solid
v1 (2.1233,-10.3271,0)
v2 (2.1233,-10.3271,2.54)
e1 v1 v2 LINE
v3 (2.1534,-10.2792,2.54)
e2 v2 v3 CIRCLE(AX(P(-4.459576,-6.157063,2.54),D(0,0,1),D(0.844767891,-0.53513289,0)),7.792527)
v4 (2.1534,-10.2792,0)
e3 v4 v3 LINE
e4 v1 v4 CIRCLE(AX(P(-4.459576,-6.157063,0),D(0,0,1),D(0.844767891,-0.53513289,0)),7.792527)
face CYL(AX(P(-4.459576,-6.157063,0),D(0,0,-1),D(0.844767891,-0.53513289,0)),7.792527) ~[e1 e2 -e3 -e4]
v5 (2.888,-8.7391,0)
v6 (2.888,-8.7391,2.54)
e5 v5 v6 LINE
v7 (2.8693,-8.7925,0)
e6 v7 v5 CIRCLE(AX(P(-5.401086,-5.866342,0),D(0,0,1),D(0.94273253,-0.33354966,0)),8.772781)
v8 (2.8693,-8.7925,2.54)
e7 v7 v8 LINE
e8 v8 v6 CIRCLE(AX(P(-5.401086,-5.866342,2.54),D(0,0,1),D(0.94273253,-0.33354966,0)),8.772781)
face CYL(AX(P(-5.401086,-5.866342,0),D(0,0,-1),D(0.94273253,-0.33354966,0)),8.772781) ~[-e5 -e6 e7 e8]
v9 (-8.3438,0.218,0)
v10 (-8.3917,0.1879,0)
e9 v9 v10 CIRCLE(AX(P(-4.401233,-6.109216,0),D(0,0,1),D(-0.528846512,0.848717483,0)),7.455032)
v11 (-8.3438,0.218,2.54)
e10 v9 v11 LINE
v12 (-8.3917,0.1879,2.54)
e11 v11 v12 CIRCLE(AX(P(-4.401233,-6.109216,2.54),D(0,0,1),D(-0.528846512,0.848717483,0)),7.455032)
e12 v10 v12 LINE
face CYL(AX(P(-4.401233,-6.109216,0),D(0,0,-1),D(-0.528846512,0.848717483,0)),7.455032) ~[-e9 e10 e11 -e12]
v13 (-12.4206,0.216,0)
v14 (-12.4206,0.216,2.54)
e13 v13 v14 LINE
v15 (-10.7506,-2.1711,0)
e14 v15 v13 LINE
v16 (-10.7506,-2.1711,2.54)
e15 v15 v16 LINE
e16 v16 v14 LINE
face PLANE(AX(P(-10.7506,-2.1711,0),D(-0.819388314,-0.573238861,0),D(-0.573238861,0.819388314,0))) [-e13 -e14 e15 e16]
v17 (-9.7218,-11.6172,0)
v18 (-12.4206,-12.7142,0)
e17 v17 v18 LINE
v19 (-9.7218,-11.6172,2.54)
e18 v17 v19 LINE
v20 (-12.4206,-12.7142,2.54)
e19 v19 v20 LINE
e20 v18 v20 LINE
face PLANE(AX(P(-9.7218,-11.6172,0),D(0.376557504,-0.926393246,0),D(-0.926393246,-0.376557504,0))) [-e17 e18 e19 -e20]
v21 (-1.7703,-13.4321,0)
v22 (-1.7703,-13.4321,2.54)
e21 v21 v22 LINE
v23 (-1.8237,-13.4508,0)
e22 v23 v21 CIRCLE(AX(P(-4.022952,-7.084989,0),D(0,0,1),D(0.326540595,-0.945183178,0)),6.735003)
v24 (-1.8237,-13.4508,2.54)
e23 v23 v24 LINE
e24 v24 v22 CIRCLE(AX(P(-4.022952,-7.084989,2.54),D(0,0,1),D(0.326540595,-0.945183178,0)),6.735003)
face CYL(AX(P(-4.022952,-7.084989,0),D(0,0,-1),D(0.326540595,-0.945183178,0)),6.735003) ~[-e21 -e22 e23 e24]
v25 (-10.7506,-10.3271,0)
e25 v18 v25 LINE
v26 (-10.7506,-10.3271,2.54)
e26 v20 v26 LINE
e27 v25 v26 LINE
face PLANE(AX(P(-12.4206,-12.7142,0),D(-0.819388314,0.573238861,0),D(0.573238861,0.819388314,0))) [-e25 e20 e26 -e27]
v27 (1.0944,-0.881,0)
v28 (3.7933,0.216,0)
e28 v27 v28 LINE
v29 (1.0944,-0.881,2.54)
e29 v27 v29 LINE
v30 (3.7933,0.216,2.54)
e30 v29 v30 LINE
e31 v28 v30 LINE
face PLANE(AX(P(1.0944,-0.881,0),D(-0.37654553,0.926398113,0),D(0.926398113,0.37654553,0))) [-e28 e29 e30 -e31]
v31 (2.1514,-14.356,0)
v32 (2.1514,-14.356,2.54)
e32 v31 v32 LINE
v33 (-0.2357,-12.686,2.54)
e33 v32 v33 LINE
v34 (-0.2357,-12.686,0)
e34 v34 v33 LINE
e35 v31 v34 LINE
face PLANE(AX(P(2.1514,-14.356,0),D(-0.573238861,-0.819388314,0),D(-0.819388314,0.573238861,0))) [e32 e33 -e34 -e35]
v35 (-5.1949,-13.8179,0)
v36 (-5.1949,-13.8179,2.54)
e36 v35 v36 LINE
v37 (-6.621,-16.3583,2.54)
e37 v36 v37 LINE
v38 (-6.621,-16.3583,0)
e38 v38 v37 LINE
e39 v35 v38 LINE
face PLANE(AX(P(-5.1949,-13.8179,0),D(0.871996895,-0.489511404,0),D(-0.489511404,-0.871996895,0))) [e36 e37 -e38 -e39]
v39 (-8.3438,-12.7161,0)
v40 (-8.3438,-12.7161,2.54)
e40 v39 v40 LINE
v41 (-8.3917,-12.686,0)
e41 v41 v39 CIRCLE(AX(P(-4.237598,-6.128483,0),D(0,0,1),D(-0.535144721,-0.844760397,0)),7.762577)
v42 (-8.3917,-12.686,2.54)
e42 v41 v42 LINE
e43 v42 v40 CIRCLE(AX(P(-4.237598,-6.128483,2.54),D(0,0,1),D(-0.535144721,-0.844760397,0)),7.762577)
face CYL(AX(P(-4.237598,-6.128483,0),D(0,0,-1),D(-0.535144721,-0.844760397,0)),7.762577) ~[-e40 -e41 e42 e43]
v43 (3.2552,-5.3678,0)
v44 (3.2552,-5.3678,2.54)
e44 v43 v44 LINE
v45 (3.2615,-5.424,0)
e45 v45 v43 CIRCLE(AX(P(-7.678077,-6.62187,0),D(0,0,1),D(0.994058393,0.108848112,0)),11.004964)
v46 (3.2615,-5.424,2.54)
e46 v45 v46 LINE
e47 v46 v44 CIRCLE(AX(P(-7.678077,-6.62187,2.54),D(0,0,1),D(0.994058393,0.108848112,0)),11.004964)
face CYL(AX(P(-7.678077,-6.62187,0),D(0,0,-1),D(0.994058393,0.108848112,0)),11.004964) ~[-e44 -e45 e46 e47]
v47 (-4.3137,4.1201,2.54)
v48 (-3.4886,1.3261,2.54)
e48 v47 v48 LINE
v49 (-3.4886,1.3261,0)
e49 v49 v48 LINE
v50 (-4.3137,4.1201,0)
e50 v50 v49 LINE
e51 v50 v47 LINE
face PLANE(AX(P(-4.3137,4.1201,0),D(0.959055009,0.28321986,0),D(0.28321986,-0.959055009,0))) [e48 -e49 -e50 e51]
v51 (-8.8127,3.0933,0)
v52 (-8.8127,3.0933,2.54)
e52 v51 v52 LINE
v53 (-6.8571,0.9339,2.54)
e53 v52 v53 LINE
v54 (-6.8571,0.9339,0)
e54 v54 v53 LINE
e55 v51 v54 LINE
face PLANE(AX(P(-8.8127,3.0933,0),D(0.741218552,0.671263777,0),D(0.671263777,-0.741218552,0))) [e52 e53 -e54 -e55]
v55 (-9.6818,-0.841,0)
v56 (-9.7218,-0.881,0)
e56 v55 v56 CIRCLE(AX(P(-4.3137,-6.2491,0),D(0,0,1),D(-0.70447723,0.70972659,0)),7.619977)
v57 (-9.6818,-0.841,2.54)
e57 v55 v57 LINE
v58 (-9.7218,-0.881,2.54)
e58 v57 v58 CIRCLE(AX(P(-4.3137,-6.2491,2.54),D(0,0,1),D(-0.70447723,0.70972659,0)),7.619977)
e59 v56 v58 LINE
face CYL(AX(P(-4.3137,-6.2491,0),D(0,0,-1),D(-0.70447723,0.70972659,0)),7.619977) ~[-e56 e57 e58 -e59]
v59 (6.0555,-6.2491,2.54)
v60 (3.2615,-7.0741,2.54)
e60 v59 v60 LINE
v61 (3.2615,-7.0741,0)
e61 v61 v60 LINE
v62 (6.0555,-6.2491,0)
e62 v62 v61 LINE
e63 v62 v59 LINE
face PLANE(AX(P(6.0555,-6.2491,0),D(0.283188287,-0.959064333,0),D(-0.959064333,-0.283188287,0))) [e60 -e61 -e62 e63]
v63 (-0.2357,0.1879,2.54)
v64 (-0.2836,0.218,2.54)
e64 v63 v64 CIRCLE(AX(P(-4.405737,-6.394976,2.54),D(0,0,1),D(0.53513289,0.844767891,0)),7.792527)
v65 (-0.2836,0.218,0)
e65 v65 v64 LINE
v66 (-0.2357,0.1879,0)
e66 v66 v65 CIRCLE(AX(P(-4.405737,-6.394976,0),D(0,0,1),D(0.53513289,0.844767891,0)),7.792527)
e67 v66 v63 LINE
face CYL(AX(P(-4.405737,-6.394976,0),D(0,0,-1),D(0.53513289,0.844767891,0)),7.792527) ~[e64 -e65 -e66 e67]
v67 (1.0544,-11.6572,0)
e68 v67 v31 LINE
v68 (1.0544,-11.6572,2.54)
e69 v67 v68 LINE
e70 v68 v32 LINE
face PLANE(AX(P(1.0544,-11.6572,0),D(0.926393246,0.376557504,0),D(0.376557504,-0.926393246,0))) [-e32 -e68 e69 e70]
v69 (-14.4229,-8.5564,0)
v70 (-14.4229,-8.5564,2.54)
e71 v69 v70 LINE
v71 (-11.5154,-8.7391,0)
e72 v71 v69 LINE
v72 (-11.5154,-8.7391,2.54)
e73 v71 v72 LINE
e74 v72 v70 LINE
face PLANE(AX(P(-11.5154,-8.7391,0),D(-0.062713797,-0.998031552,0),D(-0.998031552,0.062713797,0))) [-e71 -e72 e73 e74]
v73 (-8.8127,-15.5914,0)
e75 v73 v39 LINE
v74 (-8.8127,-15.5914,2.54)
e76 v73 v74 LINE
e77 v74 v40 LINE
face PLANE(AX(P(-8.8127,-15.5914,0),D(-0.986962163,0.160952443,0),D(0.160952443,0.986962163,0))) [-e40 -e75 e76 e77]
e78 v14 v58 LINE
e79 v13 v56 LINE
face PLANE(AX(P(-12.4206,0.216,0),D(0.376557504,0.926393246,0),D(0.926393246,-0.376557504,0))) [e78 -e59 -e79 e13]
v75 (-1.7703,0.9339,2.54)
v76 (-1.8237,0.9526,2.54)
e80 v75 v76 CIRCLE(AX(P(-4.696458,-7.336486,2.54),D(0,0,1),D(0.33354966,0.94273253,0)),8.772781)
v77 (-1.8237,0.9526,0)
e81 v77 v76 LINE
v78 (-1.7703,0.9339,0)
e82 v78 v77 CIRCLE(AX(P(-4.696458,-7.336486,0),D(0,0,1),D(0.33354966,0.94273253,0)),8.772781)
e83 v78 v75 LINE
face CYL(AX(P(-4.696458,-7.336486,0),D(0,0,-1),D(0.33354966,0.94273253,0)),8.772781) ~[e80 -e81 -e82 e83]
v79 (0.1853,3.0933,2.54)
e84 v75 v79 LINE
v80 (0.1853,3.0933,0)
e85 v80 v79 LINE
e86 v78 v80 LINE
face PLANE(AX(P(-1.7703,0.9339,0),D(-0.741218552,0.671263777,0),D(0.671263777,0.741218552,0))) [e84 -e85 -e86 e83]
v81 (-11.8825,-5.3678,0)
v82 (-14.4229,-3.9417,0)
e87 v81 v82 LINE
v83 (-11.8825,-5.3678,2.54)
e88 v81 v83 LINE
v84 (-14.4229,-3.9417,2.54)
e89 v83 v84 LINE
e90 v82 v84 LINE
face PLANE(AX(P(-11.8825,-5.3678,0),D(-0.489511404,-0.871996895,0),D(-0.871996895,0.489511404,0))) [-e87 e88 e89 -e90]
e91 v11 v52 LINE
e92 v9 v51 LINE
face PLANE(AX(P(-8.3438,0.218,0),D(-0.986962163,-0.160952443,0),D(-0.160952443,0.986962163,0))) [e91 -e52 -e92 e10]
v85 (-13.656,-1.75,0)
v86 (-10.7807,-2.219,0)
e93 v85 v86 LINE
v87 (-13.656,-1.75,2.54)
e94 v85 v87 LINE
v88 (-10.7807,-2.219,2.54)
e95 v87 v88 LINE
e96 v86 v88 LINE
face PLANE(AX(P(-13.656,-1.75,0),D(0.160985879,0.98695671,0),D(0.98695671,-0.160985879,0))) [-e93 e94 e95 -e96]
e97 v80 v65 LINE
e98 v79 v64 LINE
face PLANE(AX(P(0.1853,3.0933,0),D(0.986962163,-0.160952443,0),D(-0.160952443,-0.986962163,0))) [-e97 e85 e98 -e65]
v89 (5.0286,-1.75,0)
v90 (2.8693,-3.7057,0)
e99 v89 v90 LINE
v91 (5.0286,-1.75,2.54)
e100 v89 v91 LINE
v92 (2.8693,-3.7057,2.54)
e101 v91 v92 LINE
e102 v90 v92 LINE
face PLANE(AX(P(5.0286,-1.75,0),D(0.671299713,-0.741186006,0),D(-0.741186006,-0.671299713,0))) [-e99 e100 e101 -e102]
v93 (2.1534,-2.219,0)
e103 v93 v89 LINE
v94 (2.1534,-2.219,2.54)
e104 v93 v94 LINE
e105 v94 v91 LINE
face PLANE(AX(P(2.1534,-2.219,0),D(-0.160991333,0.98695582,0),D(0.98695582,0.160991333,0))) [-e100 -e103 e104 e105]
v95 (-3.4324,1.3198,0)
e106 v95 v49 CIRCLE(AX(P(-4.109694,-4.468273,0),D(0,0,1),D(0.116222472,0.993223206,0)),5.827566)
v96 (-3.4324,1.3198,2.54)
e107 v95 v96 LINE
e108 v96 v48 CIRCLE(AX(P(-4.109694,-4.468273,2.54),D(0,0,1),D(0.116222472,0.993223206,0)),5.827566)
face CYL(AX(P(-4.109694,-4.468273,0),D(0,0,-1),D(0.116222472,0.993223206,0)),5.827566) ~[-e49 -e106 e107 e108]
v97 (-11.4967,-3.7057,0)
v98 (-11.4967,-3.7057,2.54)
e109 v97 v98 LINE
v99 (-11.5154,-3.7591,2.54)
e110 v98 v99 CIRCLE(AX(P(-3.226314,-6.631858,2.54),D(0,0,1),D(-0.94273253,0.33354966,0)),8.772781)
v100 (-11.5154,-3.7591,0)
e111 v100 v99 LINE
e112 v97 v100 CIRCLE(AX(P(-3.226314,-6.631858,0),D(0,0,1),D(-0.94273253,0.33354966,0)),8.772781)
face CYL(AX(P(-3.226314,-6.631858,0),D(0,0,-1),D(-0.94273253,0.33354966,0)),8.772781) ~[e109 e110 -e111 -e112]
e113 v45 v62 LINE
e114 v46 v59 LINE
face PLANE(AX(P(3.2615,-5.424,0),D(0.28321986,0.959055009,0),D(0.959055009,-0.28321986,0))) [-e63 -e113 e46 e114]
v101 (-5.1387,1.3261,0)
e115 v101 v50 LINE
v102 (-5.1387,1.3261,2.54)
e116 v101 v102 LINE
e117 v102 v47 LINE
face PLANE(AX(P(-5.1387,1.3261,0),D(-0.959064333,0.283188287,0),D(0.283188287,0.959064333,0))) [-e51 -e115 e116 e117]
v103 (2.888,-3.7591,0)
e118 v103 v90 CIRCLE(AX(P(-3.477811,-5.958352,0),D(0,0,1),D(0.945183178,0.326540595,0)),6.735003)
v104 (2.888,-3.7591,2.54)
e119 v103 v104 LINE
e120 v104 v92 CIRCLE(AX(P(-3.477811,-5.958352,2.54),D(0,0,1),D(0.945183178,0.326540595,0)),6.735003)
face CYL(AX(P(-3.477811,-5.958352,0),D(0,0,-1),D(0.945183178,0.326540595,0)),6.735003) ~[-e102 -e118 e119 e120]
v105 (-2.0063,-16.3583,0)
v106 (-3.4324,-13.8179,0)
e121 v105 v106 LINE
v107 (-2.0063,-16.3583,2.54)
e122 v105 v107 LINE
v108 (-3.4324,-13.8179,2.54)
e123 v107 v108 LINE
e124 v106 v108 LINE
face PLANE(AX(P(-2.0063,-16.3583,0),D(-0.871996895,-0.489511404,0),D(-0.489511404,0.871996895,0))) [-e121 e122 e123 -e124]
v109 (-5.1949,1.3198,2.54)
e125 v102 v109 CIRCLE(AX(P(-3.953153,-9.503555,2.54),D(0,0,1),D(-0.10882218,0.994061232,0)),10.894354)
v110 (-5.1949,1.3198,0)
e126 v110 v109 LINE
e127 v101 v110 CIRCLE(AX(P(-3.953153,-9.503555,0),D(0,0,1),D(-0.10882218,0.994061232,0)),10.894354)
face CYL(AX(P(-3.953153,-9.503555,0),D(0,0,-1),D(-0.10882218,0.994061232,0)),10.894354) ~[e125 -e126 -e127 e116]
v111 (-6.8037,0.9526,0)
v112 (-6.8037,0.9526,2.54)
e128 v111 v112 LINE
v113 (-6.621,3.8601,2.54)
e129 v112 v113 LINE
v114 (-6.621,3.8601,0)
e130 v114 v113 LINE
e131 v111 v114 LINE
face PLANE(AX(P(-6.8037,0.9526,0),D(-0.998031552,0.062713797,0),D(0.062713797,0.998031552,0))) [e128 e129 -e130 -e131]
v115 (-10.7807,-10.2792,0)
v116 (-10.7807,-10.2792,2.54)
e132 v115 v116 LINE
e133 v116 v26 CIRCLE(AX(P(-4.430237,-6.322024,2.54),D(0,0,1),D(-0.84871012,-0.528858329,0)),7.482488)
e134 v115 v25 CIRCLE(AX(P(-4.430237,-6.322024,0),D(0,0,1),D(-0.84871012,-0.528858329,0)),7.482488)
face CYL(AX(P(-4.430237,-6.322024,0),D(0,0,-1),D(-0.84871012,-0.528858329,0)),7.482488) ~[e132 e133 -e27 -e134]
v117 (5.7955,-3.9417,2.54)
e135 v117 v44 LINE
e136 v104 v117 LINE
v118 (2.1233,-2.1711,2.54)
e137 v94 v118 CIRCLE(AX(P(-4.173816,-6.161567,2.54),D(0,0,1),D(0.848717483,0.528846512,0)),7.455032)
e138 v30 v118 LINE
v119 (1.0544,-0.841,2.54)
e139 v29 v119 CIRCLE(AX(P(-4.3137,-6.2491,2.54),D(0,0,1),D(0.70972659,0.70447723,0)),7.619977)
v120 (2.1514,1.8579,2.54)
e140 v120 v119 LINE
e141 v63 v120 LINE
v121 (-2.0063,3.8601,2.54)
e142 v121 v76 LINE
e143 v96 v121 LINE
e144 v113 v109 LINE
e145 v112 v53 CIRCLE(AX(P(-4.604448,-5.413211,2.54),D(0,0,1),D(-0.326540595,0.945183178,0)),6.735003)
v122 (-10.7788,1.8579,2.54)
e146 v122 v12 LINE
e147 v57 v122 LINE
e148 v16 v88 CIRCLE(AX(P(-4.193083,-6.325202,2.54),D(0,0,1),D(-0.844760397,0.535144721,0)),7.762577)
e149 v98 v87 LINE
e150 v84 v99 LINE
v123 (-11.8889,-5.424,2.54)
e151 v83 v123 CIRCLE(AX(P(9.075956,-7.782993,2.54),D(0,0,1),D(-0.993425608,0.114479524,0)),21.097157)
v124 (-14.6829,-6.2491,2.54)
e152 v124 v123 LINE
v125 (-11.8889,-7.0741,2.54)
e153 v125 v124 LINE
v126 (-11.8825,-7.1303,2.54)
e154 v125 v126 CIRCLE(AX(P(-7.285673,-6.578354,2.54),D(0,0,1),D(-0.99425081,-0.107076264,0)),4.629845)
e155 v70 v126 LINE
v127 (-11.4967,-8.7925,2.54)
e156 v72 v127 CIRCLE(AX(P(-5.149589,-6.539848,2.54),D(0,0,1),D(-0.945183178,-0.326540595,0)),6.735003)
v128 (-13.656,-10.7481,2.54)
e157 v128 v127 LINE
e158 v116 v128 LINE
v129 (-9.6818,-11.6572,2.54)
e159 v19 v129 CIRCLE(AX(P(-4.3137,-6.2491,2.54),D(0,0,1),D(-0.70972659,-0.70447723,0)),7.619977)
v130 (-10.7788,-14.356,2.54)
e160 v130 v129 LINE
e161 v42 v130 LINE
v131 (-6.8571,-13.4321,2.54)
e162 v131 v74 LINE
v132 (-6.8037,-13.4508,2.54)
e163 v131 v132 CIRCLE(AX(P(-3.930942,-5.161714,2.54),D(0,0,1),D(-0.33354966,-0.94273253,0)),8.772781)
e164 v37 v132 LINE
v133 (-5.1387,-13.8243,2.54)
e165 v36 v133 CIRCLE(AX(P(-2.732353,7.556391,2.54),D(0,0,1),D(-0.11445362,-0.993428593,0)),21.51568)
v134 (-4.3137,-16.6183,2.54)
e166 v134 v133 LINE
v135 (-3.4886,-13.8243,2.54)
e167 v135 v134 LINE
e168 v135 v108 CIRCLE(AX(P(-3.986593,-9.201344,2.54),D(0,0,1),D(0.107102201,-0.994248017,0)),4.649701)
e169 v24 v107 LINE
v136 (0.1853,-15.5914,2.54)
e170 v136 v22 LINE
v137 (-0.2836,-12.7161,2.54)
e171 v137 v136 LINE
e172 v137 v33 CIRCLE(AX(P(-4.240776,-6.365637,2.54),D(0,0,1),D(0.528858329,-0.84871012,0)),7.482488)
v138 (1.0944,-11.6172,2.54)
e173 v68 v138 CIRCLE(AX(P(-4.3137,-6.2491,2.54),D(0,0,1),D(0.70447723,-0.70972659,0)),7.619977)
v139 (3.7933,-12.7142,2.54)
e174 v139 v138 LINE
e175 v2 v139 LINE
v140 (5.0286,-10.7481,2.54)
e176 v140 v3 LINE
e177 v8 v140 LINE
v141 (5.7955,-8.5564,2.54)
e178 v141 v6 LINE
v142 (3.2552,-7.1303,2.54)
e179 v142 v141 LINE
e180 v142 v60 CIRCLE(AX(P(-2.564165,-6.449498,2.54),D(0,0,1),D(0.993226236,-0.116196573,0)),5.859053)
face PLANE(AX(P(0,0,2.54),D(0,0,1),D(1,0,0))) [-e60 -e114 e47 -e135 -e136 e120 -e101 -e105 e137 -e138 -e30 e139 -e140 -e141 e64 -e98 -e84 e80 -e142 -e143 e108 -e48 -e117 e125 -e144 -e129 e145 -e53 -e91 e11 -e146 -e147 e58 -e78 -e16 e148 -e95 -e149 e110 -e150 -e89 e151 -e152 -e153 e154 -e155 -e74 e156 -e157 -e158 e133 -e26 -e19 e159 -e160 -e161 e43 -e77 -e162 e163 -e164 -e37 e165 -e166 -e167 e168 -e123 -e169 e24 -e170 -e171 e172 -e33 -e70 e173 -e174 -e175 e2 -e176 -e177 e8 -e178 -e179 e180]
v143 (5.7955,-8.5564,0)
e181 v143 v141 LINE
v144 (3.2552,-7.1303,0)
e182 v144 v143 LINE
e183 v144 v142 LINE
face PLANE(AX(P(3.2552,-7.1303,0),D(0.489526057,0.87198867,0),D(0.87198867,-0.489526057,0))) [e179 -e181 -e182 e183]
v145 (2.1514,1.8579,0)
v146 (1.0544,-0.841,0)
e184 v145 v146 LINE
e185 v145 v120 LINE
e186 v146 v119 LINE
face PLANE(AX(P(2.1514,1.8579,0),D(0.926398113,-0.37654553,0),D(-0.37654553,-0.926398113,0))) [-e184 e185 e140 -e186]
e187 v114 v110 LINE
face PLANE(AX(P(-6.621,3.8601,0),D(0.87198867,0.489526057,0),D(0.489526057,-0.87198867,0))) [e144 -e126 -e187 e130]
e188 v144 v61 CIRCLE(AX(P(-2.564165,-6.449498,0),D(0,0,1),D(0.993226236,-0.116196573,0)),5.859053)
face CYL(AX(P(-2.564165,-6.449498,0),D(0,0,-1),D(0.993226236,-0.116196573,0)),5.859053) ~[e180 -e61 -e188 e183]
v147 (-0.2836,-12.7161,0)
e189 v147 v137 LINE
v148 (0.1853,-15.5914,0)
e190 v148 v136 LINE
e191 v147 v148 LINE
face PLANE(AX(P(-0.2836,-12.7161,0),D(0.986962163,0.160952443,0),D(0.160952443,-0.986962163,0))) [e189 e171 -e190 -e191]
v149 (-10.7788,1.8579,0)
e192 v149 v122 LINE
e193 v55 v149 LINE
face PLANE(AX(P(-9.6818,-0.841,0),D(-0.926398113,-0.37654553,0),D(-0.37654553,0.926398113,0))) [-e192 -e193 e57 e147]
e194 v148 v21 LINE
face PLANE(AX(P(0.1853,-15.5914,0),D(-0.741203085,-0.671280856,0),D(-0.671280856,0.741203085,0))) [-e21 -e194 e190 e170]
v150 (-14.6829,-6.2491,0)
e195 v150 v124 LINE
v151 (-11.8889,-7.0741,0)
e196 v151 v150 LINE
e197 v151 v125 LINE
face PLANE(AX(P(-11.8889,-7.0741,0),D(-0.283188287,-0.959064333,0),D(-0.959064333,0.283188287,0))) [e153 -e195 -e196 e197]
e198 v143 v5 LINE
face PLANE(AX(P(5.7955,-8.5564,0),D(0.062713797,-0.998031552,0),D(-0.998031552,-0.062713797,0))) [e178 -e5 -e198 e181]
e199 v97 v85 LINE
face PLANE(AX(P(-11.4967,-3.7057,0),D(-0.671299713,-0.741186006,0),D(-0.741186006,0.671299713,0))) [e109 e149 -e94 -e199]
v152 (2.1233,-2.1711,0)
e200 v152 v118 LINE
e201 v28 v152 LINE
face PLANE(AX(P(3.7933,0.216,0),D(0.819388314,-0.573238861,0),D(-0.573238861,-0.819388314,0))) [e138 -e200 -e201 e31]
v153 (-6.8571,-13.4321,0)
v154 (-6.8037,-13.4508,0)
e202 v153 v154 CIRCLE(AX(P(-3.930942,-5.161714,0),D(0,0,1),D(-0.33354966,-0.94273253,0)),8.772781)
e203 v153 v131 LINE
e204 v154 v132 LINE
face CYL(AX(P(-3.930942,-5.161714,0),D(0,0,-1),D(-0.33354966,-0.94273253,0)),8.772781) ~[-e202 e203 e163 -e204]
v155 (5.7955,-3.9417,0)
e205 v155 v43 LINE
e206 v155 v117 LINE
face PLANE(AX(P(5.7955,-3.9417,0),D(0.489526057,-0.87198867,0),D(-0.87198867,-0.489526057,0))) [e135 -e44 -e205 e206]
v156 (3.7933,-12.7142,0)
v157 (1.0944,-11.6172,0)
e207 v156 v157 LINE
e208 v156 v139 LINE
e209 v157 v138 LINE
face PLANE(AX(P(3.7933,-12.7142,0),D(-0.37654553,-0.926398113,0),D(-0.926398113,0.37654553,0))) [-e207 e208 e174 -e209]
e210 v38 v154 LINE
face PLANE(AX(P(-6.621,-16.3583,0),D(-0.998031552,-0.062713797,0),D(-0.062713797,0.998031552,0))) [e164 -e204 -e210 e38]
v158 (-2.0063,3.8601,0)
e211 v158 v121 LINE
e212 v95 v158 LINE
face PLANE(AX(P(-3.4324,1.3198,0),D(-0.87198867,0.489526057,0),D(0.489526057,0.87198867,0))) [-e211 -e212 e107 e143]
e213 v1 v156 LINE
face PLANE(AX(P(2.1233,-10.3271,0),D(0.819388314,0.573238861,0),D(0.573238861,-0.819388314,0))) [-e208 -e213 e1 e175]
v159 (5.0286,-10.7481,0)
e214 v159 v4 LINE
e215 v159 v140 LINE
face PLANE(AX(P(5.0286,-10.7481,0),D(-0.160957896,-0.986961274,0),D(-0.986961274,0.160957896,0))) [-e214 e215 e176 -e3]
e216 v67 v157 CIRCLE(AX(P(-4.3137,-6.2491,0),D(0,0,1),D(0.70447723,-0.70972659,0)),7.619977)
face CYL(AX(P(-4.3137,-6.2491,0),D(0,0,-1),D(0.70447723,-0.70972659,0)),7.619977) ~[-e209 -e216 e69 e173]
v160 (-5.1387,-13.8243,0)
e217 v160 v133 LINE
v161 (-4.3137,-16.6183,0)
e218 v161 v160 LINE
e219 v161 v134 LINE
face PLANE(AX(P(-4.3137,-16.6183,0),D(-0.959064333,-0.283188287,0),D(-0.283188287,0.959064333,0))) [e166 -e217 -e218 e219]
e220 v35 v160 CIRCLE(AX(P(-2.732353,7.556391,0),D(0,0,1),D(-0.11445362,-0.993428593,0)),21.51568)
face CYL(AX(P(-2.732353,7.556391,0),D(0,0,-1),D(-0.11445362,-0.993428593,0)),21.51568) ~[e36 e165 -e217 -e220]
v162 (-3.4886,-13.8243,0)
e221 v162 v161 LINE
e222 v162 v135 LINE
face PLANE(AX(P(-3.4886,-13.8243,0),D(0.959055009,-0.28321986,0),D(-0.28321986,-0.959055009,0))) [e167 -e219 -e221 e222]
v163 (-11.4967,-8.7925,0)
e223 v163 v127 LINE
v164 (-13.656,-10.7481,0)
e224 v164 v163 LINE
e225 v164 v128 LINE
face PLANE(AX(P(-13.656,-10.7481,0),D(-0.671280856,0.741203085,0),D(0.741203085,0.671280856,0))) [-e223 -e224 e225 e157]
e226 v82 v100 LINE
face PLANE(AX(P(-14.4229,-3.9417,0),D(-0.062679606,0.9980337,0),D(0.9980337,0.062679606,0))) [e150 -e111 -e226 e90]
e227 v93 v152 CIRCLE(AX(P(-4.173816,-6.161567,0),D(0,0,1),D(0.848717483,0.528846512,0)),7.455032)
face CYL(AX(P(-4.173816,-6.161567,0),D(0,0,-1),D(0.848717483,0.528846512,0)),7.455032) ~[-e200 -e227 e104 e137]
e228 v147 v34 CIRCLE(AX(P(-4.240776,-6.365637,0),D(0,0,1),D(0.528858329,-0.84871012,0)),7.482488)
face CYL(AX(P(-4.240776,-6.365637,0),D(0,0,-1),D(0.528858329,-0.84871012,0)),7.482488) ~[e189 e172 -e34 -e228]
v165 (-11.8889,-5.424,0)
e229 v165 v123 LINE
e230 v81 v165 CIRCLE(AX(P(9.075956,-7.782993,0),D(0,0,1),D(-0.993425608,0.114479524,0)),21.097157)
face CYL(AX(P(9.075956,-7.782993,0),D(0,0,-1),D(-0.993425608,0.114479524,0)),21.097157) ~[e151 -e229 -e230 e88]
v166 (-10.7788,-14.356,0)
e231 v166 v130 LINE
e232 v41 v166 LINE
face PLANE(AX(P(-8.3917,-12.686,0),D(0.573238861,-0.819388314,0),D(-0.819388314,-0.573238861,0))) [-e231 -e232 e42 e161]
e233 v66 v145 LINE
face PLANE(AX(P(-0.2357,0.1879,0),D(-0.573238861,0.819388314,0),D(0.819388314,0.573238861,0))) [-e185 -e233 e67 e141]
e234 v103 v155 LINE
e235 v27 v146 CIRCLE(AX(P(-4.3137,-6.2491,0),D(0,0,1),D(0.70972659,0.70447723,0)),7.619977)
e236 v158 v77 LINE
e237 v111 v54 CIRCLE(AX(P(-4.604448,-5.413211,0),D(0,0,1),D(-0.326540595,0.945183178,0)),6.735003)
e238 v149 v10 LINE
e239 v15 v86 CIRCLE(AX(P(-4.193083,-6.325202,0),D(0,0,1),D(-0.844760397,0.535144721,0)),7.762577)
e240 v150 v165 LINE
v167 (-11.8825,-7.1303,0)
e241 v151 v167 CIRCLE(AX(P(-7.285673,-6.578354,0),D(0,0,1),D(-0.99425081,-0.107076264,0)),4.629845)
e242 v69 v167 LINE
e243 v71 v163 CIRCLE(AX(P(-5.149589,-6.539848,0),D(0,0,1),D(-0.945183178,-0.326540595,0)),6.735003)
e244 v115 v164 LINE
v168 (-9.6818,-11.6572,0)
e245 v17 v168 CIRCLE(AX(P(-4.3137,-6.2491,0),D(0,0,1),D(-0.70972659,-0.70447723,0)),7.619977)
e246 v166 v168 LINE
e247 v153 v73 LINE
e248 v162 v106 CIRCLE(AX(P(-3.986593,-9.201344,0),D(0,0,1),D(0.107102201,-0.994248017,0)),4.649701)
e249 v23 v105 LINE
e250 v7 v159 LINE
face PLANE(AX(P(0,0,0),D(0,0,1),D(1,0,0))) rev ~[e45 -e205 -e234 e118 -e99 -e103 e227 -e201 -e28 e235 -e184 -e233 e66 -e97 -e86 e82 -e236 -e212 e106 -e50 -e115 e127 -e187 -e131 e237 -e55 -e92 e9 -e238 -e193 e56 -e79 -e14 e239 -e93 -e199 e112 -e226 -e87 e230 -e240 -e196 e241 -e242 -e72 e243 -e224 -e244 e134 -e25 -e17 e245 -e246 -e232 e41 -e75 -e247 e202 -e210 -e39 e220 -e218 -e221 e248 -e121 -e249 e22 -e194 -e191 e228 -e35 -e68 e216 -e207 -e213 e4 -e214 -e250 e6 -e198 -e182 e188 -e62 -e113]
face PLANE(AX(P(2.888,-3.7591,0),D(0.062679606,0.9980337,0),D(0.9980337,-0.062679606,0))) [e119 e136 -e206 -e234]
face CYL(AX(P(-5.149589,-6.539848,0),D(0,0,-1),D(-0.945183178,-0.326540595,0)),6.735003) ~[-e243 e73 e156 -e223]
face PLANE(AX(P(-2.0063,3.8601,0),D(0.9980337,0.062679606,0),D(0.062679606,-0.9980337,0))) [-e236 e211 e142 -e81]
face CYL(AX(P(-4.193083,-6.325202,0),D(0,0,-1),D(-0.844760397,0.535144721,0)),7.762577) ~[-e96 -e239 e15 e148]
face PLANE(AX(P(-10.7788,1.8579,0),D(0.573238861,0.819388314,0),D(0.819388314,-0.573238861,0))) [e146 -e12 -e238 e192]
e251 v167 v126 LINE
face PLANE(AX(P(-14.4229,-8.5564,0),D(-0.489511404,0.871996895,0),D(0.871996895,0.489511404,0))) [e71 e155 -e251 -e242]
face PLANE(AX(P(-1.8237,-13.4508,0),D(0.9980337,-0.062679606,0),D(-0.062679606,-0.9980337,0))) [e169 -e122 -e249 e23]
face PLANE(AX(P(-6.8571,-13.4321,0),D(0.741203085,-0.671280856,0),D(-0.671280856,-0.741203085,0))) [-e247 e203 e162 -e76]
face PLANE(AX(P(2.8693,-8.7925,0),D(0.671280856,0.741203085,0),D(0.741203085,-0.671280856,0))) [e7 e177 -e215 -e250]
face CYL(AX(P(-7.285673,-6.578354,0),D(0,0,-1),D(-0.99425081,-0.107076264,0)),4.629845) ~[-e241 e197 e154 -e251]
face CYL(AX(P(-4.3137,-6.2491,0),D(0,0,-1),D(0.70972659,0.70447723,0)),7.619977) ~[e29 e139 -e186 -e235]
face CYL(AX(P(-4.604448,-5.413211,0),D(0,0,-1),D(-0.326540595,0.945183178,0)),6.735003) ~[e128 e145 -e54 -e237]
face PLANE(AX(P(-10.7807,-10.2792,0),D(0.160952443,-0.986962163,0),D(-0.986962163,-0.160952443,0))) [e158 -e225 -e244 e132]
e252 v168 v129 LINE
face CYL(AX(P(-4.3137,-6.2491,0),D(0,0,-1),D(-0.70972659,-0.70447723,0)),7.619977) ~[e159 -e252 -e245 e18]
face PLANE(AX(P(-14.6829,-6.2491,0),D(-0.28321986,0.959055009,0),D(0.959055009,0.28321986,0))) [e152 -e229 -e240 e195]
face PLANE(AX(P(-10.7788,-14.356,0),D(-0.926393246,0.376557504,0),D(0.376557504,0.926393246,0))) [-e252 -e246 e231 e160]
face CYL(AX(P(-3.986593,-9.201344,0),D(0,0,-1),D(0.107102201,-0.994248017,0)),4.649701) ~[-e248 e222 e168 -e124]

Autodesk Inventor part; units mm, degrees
ref_plane "YZ Plane" through (0, 0, 0) normal (1, 0, 0) x (0, 1, 0)
ref_plane "XZ Plane" through (0, 0, 0) normal (0, 1, 0) x (-1, 0, 0)
ref_plane "XY Plane" through (0, 0, 0) normal (0, 0, 1) x (1, 0, 0)
sketch "Sketch3" plane through (0, 0, 0) normal (0, 0, 1) x (1, 0, 0)
  line L0 (-5.1387, 1.3261) -> (-4.3137, 4.1201)
  line L1 (-4.3137, 4.1201) -> (-3.4886, 1.3261)
  line L2 (-4.3137, 1.3261) -> (-5.1387, 1.3261) construction
  line L3 (-4.3137, 1.3261) -> (-4.3137, 1.6791) construction
  circle A0 centre (-4.3137, -6.2491) radius 7.62 construction
  circle A1 centre (-4.3137, -6.2491) radius 7.62 construction
  line L4 (-6.8037, 0.9526) -> (-6.621, 3.8601)
  line L5 (-6.621, 3.8601) -> (-5.1949, 1.3198)
  circle A2 centre (-4.3137, -6.2491) radius 7.62 construction
  line L6 (-8.3438, 0.218) -> (-8.8127, 3.0933)
  line L7 (-8.8127, 3.0933) -> (-6.8571, 0.9339)
  circle A3 centre (-4.3137, -6.2491) radius 7.62 construction
  line L8 (-9.6818, -0.841) -> (-10.7788, 1.8579)
  line L9 (-10.7788, 1.8579) -> (-8.3917, 0.1879)
  circle A4 centre (-4.3137, -6.2491) radius 7.62 construction
  line L10 (-10.7506, -2.1711) -> (-12.4206, 0.216)
  line L11 (-12.4206, 0.216) -> (-9.7218, -0.881)
  circle A5 centre (-4.3137, -6.2491) radius 7.62 construction
  line L12 (-11.4967, -3.7057) -> (-13.656, -1.75)
  line L13 (-13.656, -1.75) -> (-10.7807, -2.219)
  circle A6 centre (-4.3137, -6.2491) radius 7.62 construction
  line L14 (-11.8825, -5.3678) -> (-14.4229, -3.9417)
  line L15 (-14.4229, -3.9417) -> (-11.5154, -3.7591)
  circle A7 centre (-4.3137, -6.2491) radius 7.62 construction
  line L16 (-11.8889, -7.0741) -> (-14.6829, -6.2491)
  line L17 (-14.6829, -6.2491) -> (-11.8889, -5.424)
  circle A8 centre (-4.3137, -6.2491) radius 7.62 construction
  line L18 (-11.5154, -8.7391) -> (-14.4229, -8.5564)
  line L19 (-14.4229, -8.5564) -> (-11.8825, -7.1303)
  circle A9 centre (-4.3137, -6.2491) radius 7.62 construction
  line L20 (-10.7807, -10.2792) -> (-13.656, -10.7481)
  line L21 (-13.656, -10.7481) -> (-11.4967, -8.7925)
  circle A10 centre (-4.3137, -6.2491) radius 7.62 construction
  line L22 (-9.7218, -11.6172) -> (-12.4206, -12.7142)
  line L23 (-12.4206, -12.7142) -> (-10.7506, -10.3271)
  circle A11 centre (-4.3137, -6.2491) radius 7.62 construction
  line L24 (-8.3917, -12.686) -> (-10.7788, -14.356)
  line L25 (-10.7788, -14.356) -> (-9.6818, -11.6572)
  circle A12 centre (-4.3137, -6.2491) radius 7.62 construction
  line L26 (-6.8571, -13.4321) -> (-8.8127, -15.5914)
  line L27 (-8.8127, -15.5914) -> (-8.3438, -12.7161)
  circle A13 centre (-4.3137, -6.2491) radius 7.62 construction
  line L28 (-5.1949, -13.8179) -> (-6.621, -16.3583)
  line L29 (-6.621, -16.3583) -> (-6.8037, -13.4508)
  circle A14 centre (-4.3137, -6.2491) radius 7.62 construction
  line L30 (-3.4886, -13.8243) -> (-4.3137, -16.6183)
  line L31 (-4.3137, -16.6183) -> (-5.1387, -13.8243)
  circle A15 centre (-4.3137, -6.2491) radius 7.62 construction
  line L32 (-1.8237, -13.4508) -> (-2.0063, -16.3583)
  line L33 (-2.0063, -16.3583) -> (-3.4324, -13.8179)
  circle A16 centre (-4.3137, -6.2491) radius 7.62 construction
  line L34 (-0.2836, -12.7161) -> (0.1853, -15.5914)
  line L35 (0.1853, -15.5914) -> (-1.7703, -13.4321)
  circle A17 centre (-4.3137, -6.2491) radius 7.62 construction
  line L36 (1.0544, -11.6572) -> (2.1514, -14.356)
  line L37 (2.1514, -14.356) -> (-0.2357, -12.686)
  circle A18 centre (-4.3137, -6.2491) radius 7.62 construction
  line L38 (2.1233, -10.3271) -> (3.7933, -12.7142)
  line L39 (3.7933, -12.7142) -> (1.0944, -11.6172)
  circle A19 centre (-4.3137, -6.2491) radius 7.62 construction
  line L40 (2.8693, -8.7925) -> (5.0286, -10.7481)
  line L41 (5.0286, -10.7481) -> (2.1534, -10.2792)
  circle A20 centre (-4.3137, -6.2491) radius 7.62 construction
  line L42 (3.2552, -7.1303) -> (5.7955, -8.5564)
  line L43 (5.7955, -8.5564) -> (2.888, -8.7391)
  circle A21 centre (-4.3137, -6.2491) radius 7.62 construction
  line L44 (3.2615, -5.424) -> (6.0555, -6.2491)
  line L45 (6.0555, -6.2491) -> (3.2615, -7.0741)
  circle A22 centre (-4.3137, -6.2491) radius 7.62 construction
  line L46 (2.888, -3.7591) -> (5.7955, -3.9417)
  line L47 (5.7955, -3.9417) -> (3.2552, -5.3678)
  circle A23 centre (-4.3137, -6.2491) radius 7.62 construction
  line L48 (2.1534, -2.219) -> (5.0286, -1.75)
  line L49 (5.0286, -1.75) -> (2.8693, -3.7057)
  circle A24 centre (-4.3137, -6.2491) radius 7.62 construction
  line L50 (1.0944, -0.881) -> (3.7933, 0.216)
  line L51 (3.7933, 0.216) -> (2.1233, -2.1711)
  circle A25 centre (-4.3137, -6.2491) radius 7.62 construction
  line L52 (-0.2357, 0.1879) -> (2.1514, 1.8579)
  line L53 (2.1514, 1.8579) -> (1.0544, -0.841)
  circle A26 centre (-4.3137, -6.2491) radius 7.62 construction
  line L54 (-1.7703, 0.9339) -> (0.1853, 3.0933)
  line L55 (0.1853, 3.0933) -> (-0.2836, 0.218)
  circle A27 centre (-4.3137, -6.2491) radius 7.62 construction
  line L56 (-3.4324, 1.3198) -> (-2.0063, 3.8601)
  line L57 (-2.0063, 3.8601) -> (-1.8237, 0.9526)
  arc A28 (-10.7506, -2.1711) -> (-10.7807, -2.219) centre (-4.3137, -6.2491) ccw
  arc A29 (-11.4967, -3.7057) -> (-11.5154, -3.7591) centre (-4.3137, -6.2491) ccw
  arc A30 (-11.8825, -5.3678) -> (-11.8889, -5.424) centre (-4.3137, -6.2491) ccw
  arc A31 (-11.8889, -7.0741) -> (-11.8825, -7.1303) centre (-4.3137, -6.2491) ccw
  arc A32 (-11.5154, -8.7391) -> (-11.4967, -8.7925) centre (-4.3137, -6.2491) ccw
  arc A33 (-10.7807, -10.2792) -> (-10.7506, -10.3271) centre (-4.3137, -6.2491) ccw
  arc A34 (-9.7218, -11.6172) -> (-9.6818, -11.6572) centre (-4.3137, -6.2491) ccw
  arc A35 (-8.3917, -12.686) -> (-8.3438, -12.7161) centre (-4.3137, -6.2491) ccw
  arc A36 (-6.8571, -13.4321) -> (-6.8037, -13.4508) centre (-4.3137, -6.2491) ccw
  arc A37 (-5.1949, -13.8179) -> (-5.1387, -13.8243) centre (-4.3137, -6.2491) ccw
  arc A38 (-3.4886, -13.8243) -> (-3.4324, -13.8179) centre (-4.3137, -6.2491) ccw
  arc A39 (-1.8237, -13.4508) -> (-1.7703, -13.4321) centre (-4.3137, -6.2491) ccw
  arc A40 (-0.2836, -12.7161) -> (-0.2357, -12.686) centre (-4.3137, -6.2491) ccw
  arc A41 (1.0544, -11.6572) -> (1.0944, -11.6172) centre (-4.3137, -6.2491) ccw
  arc A42 (2.1233, -10.3271) -> (2.1534, -10.2792) centre (-4.3137, -6.2491) ccw
  arc A43 (2.8693, -8.7925) -> (2.888, -8.7391) centre (-4.3137, -6.2491) ccw
  arc A44 (3.2552, -7.1303) -> (3.2615, -7.0741) centre (-4.3137, -6.2491) ccw
  arc A45 (3.2615, -5.424) -> (3.2552, -5.3678) centre (-4.3137, -6.2491) ccw
  arc A46 (2.888, -3.7591) -> (2.8693, -3.7057) centre (-4.3137, -6.2491) ccw
  arc A47 (2.1534, -2.219) -> (2.1233, -2.1711) centre (-4.3137, -6.2491) ccw
  arc A48 (1.0944, -0.881) -> (1.0544, -0.841) centre (-4.3137, -6.2491) ccw
  arc A49 (-0.2357, 0.1879) -> (-0.2836, 0.218) centre (-4.3137, -6.2491) ccw
  arc A50 (-1.7703, 0.9339) -> (-1.8237, 0.9526) centre (-4.3137, -6.2491) ccw
  arc A51 (-3.4324, 1.3198) -> (-3.4886, 1.3261) centre (-4.3137, -6.2491) ccw
  arc A52 (-5.1387, 1.3261) -> (-5.1949, 1.3198) centre (-4.3137, -6.2491) ccw
  arc A53 (-6.8037, 0.9526) -> (-6.8571, 0.9339) centre (-4.3137, -6.2491) ccw
  arc A54 (-8.3438, 0.218) -> (-8.3917, 0.1879) centre (-4.3137, -6.2491) ccw
  arc A55 (-9.6818, -0.841) -> (-9.7218, -0.881) centre (-4.3137, -6.2491) ccw
  point P0 (0, 0)
  dimension "d21" = 1.6501
  dimension "d22" = 2.794
  dimension "d23" = 15.24
  dimension "d26" = 360
extrude "Extrusion3" add sketch "Sketch3" along normal blind 2.54
properties part number "Big Gear Phone Case Mech"
